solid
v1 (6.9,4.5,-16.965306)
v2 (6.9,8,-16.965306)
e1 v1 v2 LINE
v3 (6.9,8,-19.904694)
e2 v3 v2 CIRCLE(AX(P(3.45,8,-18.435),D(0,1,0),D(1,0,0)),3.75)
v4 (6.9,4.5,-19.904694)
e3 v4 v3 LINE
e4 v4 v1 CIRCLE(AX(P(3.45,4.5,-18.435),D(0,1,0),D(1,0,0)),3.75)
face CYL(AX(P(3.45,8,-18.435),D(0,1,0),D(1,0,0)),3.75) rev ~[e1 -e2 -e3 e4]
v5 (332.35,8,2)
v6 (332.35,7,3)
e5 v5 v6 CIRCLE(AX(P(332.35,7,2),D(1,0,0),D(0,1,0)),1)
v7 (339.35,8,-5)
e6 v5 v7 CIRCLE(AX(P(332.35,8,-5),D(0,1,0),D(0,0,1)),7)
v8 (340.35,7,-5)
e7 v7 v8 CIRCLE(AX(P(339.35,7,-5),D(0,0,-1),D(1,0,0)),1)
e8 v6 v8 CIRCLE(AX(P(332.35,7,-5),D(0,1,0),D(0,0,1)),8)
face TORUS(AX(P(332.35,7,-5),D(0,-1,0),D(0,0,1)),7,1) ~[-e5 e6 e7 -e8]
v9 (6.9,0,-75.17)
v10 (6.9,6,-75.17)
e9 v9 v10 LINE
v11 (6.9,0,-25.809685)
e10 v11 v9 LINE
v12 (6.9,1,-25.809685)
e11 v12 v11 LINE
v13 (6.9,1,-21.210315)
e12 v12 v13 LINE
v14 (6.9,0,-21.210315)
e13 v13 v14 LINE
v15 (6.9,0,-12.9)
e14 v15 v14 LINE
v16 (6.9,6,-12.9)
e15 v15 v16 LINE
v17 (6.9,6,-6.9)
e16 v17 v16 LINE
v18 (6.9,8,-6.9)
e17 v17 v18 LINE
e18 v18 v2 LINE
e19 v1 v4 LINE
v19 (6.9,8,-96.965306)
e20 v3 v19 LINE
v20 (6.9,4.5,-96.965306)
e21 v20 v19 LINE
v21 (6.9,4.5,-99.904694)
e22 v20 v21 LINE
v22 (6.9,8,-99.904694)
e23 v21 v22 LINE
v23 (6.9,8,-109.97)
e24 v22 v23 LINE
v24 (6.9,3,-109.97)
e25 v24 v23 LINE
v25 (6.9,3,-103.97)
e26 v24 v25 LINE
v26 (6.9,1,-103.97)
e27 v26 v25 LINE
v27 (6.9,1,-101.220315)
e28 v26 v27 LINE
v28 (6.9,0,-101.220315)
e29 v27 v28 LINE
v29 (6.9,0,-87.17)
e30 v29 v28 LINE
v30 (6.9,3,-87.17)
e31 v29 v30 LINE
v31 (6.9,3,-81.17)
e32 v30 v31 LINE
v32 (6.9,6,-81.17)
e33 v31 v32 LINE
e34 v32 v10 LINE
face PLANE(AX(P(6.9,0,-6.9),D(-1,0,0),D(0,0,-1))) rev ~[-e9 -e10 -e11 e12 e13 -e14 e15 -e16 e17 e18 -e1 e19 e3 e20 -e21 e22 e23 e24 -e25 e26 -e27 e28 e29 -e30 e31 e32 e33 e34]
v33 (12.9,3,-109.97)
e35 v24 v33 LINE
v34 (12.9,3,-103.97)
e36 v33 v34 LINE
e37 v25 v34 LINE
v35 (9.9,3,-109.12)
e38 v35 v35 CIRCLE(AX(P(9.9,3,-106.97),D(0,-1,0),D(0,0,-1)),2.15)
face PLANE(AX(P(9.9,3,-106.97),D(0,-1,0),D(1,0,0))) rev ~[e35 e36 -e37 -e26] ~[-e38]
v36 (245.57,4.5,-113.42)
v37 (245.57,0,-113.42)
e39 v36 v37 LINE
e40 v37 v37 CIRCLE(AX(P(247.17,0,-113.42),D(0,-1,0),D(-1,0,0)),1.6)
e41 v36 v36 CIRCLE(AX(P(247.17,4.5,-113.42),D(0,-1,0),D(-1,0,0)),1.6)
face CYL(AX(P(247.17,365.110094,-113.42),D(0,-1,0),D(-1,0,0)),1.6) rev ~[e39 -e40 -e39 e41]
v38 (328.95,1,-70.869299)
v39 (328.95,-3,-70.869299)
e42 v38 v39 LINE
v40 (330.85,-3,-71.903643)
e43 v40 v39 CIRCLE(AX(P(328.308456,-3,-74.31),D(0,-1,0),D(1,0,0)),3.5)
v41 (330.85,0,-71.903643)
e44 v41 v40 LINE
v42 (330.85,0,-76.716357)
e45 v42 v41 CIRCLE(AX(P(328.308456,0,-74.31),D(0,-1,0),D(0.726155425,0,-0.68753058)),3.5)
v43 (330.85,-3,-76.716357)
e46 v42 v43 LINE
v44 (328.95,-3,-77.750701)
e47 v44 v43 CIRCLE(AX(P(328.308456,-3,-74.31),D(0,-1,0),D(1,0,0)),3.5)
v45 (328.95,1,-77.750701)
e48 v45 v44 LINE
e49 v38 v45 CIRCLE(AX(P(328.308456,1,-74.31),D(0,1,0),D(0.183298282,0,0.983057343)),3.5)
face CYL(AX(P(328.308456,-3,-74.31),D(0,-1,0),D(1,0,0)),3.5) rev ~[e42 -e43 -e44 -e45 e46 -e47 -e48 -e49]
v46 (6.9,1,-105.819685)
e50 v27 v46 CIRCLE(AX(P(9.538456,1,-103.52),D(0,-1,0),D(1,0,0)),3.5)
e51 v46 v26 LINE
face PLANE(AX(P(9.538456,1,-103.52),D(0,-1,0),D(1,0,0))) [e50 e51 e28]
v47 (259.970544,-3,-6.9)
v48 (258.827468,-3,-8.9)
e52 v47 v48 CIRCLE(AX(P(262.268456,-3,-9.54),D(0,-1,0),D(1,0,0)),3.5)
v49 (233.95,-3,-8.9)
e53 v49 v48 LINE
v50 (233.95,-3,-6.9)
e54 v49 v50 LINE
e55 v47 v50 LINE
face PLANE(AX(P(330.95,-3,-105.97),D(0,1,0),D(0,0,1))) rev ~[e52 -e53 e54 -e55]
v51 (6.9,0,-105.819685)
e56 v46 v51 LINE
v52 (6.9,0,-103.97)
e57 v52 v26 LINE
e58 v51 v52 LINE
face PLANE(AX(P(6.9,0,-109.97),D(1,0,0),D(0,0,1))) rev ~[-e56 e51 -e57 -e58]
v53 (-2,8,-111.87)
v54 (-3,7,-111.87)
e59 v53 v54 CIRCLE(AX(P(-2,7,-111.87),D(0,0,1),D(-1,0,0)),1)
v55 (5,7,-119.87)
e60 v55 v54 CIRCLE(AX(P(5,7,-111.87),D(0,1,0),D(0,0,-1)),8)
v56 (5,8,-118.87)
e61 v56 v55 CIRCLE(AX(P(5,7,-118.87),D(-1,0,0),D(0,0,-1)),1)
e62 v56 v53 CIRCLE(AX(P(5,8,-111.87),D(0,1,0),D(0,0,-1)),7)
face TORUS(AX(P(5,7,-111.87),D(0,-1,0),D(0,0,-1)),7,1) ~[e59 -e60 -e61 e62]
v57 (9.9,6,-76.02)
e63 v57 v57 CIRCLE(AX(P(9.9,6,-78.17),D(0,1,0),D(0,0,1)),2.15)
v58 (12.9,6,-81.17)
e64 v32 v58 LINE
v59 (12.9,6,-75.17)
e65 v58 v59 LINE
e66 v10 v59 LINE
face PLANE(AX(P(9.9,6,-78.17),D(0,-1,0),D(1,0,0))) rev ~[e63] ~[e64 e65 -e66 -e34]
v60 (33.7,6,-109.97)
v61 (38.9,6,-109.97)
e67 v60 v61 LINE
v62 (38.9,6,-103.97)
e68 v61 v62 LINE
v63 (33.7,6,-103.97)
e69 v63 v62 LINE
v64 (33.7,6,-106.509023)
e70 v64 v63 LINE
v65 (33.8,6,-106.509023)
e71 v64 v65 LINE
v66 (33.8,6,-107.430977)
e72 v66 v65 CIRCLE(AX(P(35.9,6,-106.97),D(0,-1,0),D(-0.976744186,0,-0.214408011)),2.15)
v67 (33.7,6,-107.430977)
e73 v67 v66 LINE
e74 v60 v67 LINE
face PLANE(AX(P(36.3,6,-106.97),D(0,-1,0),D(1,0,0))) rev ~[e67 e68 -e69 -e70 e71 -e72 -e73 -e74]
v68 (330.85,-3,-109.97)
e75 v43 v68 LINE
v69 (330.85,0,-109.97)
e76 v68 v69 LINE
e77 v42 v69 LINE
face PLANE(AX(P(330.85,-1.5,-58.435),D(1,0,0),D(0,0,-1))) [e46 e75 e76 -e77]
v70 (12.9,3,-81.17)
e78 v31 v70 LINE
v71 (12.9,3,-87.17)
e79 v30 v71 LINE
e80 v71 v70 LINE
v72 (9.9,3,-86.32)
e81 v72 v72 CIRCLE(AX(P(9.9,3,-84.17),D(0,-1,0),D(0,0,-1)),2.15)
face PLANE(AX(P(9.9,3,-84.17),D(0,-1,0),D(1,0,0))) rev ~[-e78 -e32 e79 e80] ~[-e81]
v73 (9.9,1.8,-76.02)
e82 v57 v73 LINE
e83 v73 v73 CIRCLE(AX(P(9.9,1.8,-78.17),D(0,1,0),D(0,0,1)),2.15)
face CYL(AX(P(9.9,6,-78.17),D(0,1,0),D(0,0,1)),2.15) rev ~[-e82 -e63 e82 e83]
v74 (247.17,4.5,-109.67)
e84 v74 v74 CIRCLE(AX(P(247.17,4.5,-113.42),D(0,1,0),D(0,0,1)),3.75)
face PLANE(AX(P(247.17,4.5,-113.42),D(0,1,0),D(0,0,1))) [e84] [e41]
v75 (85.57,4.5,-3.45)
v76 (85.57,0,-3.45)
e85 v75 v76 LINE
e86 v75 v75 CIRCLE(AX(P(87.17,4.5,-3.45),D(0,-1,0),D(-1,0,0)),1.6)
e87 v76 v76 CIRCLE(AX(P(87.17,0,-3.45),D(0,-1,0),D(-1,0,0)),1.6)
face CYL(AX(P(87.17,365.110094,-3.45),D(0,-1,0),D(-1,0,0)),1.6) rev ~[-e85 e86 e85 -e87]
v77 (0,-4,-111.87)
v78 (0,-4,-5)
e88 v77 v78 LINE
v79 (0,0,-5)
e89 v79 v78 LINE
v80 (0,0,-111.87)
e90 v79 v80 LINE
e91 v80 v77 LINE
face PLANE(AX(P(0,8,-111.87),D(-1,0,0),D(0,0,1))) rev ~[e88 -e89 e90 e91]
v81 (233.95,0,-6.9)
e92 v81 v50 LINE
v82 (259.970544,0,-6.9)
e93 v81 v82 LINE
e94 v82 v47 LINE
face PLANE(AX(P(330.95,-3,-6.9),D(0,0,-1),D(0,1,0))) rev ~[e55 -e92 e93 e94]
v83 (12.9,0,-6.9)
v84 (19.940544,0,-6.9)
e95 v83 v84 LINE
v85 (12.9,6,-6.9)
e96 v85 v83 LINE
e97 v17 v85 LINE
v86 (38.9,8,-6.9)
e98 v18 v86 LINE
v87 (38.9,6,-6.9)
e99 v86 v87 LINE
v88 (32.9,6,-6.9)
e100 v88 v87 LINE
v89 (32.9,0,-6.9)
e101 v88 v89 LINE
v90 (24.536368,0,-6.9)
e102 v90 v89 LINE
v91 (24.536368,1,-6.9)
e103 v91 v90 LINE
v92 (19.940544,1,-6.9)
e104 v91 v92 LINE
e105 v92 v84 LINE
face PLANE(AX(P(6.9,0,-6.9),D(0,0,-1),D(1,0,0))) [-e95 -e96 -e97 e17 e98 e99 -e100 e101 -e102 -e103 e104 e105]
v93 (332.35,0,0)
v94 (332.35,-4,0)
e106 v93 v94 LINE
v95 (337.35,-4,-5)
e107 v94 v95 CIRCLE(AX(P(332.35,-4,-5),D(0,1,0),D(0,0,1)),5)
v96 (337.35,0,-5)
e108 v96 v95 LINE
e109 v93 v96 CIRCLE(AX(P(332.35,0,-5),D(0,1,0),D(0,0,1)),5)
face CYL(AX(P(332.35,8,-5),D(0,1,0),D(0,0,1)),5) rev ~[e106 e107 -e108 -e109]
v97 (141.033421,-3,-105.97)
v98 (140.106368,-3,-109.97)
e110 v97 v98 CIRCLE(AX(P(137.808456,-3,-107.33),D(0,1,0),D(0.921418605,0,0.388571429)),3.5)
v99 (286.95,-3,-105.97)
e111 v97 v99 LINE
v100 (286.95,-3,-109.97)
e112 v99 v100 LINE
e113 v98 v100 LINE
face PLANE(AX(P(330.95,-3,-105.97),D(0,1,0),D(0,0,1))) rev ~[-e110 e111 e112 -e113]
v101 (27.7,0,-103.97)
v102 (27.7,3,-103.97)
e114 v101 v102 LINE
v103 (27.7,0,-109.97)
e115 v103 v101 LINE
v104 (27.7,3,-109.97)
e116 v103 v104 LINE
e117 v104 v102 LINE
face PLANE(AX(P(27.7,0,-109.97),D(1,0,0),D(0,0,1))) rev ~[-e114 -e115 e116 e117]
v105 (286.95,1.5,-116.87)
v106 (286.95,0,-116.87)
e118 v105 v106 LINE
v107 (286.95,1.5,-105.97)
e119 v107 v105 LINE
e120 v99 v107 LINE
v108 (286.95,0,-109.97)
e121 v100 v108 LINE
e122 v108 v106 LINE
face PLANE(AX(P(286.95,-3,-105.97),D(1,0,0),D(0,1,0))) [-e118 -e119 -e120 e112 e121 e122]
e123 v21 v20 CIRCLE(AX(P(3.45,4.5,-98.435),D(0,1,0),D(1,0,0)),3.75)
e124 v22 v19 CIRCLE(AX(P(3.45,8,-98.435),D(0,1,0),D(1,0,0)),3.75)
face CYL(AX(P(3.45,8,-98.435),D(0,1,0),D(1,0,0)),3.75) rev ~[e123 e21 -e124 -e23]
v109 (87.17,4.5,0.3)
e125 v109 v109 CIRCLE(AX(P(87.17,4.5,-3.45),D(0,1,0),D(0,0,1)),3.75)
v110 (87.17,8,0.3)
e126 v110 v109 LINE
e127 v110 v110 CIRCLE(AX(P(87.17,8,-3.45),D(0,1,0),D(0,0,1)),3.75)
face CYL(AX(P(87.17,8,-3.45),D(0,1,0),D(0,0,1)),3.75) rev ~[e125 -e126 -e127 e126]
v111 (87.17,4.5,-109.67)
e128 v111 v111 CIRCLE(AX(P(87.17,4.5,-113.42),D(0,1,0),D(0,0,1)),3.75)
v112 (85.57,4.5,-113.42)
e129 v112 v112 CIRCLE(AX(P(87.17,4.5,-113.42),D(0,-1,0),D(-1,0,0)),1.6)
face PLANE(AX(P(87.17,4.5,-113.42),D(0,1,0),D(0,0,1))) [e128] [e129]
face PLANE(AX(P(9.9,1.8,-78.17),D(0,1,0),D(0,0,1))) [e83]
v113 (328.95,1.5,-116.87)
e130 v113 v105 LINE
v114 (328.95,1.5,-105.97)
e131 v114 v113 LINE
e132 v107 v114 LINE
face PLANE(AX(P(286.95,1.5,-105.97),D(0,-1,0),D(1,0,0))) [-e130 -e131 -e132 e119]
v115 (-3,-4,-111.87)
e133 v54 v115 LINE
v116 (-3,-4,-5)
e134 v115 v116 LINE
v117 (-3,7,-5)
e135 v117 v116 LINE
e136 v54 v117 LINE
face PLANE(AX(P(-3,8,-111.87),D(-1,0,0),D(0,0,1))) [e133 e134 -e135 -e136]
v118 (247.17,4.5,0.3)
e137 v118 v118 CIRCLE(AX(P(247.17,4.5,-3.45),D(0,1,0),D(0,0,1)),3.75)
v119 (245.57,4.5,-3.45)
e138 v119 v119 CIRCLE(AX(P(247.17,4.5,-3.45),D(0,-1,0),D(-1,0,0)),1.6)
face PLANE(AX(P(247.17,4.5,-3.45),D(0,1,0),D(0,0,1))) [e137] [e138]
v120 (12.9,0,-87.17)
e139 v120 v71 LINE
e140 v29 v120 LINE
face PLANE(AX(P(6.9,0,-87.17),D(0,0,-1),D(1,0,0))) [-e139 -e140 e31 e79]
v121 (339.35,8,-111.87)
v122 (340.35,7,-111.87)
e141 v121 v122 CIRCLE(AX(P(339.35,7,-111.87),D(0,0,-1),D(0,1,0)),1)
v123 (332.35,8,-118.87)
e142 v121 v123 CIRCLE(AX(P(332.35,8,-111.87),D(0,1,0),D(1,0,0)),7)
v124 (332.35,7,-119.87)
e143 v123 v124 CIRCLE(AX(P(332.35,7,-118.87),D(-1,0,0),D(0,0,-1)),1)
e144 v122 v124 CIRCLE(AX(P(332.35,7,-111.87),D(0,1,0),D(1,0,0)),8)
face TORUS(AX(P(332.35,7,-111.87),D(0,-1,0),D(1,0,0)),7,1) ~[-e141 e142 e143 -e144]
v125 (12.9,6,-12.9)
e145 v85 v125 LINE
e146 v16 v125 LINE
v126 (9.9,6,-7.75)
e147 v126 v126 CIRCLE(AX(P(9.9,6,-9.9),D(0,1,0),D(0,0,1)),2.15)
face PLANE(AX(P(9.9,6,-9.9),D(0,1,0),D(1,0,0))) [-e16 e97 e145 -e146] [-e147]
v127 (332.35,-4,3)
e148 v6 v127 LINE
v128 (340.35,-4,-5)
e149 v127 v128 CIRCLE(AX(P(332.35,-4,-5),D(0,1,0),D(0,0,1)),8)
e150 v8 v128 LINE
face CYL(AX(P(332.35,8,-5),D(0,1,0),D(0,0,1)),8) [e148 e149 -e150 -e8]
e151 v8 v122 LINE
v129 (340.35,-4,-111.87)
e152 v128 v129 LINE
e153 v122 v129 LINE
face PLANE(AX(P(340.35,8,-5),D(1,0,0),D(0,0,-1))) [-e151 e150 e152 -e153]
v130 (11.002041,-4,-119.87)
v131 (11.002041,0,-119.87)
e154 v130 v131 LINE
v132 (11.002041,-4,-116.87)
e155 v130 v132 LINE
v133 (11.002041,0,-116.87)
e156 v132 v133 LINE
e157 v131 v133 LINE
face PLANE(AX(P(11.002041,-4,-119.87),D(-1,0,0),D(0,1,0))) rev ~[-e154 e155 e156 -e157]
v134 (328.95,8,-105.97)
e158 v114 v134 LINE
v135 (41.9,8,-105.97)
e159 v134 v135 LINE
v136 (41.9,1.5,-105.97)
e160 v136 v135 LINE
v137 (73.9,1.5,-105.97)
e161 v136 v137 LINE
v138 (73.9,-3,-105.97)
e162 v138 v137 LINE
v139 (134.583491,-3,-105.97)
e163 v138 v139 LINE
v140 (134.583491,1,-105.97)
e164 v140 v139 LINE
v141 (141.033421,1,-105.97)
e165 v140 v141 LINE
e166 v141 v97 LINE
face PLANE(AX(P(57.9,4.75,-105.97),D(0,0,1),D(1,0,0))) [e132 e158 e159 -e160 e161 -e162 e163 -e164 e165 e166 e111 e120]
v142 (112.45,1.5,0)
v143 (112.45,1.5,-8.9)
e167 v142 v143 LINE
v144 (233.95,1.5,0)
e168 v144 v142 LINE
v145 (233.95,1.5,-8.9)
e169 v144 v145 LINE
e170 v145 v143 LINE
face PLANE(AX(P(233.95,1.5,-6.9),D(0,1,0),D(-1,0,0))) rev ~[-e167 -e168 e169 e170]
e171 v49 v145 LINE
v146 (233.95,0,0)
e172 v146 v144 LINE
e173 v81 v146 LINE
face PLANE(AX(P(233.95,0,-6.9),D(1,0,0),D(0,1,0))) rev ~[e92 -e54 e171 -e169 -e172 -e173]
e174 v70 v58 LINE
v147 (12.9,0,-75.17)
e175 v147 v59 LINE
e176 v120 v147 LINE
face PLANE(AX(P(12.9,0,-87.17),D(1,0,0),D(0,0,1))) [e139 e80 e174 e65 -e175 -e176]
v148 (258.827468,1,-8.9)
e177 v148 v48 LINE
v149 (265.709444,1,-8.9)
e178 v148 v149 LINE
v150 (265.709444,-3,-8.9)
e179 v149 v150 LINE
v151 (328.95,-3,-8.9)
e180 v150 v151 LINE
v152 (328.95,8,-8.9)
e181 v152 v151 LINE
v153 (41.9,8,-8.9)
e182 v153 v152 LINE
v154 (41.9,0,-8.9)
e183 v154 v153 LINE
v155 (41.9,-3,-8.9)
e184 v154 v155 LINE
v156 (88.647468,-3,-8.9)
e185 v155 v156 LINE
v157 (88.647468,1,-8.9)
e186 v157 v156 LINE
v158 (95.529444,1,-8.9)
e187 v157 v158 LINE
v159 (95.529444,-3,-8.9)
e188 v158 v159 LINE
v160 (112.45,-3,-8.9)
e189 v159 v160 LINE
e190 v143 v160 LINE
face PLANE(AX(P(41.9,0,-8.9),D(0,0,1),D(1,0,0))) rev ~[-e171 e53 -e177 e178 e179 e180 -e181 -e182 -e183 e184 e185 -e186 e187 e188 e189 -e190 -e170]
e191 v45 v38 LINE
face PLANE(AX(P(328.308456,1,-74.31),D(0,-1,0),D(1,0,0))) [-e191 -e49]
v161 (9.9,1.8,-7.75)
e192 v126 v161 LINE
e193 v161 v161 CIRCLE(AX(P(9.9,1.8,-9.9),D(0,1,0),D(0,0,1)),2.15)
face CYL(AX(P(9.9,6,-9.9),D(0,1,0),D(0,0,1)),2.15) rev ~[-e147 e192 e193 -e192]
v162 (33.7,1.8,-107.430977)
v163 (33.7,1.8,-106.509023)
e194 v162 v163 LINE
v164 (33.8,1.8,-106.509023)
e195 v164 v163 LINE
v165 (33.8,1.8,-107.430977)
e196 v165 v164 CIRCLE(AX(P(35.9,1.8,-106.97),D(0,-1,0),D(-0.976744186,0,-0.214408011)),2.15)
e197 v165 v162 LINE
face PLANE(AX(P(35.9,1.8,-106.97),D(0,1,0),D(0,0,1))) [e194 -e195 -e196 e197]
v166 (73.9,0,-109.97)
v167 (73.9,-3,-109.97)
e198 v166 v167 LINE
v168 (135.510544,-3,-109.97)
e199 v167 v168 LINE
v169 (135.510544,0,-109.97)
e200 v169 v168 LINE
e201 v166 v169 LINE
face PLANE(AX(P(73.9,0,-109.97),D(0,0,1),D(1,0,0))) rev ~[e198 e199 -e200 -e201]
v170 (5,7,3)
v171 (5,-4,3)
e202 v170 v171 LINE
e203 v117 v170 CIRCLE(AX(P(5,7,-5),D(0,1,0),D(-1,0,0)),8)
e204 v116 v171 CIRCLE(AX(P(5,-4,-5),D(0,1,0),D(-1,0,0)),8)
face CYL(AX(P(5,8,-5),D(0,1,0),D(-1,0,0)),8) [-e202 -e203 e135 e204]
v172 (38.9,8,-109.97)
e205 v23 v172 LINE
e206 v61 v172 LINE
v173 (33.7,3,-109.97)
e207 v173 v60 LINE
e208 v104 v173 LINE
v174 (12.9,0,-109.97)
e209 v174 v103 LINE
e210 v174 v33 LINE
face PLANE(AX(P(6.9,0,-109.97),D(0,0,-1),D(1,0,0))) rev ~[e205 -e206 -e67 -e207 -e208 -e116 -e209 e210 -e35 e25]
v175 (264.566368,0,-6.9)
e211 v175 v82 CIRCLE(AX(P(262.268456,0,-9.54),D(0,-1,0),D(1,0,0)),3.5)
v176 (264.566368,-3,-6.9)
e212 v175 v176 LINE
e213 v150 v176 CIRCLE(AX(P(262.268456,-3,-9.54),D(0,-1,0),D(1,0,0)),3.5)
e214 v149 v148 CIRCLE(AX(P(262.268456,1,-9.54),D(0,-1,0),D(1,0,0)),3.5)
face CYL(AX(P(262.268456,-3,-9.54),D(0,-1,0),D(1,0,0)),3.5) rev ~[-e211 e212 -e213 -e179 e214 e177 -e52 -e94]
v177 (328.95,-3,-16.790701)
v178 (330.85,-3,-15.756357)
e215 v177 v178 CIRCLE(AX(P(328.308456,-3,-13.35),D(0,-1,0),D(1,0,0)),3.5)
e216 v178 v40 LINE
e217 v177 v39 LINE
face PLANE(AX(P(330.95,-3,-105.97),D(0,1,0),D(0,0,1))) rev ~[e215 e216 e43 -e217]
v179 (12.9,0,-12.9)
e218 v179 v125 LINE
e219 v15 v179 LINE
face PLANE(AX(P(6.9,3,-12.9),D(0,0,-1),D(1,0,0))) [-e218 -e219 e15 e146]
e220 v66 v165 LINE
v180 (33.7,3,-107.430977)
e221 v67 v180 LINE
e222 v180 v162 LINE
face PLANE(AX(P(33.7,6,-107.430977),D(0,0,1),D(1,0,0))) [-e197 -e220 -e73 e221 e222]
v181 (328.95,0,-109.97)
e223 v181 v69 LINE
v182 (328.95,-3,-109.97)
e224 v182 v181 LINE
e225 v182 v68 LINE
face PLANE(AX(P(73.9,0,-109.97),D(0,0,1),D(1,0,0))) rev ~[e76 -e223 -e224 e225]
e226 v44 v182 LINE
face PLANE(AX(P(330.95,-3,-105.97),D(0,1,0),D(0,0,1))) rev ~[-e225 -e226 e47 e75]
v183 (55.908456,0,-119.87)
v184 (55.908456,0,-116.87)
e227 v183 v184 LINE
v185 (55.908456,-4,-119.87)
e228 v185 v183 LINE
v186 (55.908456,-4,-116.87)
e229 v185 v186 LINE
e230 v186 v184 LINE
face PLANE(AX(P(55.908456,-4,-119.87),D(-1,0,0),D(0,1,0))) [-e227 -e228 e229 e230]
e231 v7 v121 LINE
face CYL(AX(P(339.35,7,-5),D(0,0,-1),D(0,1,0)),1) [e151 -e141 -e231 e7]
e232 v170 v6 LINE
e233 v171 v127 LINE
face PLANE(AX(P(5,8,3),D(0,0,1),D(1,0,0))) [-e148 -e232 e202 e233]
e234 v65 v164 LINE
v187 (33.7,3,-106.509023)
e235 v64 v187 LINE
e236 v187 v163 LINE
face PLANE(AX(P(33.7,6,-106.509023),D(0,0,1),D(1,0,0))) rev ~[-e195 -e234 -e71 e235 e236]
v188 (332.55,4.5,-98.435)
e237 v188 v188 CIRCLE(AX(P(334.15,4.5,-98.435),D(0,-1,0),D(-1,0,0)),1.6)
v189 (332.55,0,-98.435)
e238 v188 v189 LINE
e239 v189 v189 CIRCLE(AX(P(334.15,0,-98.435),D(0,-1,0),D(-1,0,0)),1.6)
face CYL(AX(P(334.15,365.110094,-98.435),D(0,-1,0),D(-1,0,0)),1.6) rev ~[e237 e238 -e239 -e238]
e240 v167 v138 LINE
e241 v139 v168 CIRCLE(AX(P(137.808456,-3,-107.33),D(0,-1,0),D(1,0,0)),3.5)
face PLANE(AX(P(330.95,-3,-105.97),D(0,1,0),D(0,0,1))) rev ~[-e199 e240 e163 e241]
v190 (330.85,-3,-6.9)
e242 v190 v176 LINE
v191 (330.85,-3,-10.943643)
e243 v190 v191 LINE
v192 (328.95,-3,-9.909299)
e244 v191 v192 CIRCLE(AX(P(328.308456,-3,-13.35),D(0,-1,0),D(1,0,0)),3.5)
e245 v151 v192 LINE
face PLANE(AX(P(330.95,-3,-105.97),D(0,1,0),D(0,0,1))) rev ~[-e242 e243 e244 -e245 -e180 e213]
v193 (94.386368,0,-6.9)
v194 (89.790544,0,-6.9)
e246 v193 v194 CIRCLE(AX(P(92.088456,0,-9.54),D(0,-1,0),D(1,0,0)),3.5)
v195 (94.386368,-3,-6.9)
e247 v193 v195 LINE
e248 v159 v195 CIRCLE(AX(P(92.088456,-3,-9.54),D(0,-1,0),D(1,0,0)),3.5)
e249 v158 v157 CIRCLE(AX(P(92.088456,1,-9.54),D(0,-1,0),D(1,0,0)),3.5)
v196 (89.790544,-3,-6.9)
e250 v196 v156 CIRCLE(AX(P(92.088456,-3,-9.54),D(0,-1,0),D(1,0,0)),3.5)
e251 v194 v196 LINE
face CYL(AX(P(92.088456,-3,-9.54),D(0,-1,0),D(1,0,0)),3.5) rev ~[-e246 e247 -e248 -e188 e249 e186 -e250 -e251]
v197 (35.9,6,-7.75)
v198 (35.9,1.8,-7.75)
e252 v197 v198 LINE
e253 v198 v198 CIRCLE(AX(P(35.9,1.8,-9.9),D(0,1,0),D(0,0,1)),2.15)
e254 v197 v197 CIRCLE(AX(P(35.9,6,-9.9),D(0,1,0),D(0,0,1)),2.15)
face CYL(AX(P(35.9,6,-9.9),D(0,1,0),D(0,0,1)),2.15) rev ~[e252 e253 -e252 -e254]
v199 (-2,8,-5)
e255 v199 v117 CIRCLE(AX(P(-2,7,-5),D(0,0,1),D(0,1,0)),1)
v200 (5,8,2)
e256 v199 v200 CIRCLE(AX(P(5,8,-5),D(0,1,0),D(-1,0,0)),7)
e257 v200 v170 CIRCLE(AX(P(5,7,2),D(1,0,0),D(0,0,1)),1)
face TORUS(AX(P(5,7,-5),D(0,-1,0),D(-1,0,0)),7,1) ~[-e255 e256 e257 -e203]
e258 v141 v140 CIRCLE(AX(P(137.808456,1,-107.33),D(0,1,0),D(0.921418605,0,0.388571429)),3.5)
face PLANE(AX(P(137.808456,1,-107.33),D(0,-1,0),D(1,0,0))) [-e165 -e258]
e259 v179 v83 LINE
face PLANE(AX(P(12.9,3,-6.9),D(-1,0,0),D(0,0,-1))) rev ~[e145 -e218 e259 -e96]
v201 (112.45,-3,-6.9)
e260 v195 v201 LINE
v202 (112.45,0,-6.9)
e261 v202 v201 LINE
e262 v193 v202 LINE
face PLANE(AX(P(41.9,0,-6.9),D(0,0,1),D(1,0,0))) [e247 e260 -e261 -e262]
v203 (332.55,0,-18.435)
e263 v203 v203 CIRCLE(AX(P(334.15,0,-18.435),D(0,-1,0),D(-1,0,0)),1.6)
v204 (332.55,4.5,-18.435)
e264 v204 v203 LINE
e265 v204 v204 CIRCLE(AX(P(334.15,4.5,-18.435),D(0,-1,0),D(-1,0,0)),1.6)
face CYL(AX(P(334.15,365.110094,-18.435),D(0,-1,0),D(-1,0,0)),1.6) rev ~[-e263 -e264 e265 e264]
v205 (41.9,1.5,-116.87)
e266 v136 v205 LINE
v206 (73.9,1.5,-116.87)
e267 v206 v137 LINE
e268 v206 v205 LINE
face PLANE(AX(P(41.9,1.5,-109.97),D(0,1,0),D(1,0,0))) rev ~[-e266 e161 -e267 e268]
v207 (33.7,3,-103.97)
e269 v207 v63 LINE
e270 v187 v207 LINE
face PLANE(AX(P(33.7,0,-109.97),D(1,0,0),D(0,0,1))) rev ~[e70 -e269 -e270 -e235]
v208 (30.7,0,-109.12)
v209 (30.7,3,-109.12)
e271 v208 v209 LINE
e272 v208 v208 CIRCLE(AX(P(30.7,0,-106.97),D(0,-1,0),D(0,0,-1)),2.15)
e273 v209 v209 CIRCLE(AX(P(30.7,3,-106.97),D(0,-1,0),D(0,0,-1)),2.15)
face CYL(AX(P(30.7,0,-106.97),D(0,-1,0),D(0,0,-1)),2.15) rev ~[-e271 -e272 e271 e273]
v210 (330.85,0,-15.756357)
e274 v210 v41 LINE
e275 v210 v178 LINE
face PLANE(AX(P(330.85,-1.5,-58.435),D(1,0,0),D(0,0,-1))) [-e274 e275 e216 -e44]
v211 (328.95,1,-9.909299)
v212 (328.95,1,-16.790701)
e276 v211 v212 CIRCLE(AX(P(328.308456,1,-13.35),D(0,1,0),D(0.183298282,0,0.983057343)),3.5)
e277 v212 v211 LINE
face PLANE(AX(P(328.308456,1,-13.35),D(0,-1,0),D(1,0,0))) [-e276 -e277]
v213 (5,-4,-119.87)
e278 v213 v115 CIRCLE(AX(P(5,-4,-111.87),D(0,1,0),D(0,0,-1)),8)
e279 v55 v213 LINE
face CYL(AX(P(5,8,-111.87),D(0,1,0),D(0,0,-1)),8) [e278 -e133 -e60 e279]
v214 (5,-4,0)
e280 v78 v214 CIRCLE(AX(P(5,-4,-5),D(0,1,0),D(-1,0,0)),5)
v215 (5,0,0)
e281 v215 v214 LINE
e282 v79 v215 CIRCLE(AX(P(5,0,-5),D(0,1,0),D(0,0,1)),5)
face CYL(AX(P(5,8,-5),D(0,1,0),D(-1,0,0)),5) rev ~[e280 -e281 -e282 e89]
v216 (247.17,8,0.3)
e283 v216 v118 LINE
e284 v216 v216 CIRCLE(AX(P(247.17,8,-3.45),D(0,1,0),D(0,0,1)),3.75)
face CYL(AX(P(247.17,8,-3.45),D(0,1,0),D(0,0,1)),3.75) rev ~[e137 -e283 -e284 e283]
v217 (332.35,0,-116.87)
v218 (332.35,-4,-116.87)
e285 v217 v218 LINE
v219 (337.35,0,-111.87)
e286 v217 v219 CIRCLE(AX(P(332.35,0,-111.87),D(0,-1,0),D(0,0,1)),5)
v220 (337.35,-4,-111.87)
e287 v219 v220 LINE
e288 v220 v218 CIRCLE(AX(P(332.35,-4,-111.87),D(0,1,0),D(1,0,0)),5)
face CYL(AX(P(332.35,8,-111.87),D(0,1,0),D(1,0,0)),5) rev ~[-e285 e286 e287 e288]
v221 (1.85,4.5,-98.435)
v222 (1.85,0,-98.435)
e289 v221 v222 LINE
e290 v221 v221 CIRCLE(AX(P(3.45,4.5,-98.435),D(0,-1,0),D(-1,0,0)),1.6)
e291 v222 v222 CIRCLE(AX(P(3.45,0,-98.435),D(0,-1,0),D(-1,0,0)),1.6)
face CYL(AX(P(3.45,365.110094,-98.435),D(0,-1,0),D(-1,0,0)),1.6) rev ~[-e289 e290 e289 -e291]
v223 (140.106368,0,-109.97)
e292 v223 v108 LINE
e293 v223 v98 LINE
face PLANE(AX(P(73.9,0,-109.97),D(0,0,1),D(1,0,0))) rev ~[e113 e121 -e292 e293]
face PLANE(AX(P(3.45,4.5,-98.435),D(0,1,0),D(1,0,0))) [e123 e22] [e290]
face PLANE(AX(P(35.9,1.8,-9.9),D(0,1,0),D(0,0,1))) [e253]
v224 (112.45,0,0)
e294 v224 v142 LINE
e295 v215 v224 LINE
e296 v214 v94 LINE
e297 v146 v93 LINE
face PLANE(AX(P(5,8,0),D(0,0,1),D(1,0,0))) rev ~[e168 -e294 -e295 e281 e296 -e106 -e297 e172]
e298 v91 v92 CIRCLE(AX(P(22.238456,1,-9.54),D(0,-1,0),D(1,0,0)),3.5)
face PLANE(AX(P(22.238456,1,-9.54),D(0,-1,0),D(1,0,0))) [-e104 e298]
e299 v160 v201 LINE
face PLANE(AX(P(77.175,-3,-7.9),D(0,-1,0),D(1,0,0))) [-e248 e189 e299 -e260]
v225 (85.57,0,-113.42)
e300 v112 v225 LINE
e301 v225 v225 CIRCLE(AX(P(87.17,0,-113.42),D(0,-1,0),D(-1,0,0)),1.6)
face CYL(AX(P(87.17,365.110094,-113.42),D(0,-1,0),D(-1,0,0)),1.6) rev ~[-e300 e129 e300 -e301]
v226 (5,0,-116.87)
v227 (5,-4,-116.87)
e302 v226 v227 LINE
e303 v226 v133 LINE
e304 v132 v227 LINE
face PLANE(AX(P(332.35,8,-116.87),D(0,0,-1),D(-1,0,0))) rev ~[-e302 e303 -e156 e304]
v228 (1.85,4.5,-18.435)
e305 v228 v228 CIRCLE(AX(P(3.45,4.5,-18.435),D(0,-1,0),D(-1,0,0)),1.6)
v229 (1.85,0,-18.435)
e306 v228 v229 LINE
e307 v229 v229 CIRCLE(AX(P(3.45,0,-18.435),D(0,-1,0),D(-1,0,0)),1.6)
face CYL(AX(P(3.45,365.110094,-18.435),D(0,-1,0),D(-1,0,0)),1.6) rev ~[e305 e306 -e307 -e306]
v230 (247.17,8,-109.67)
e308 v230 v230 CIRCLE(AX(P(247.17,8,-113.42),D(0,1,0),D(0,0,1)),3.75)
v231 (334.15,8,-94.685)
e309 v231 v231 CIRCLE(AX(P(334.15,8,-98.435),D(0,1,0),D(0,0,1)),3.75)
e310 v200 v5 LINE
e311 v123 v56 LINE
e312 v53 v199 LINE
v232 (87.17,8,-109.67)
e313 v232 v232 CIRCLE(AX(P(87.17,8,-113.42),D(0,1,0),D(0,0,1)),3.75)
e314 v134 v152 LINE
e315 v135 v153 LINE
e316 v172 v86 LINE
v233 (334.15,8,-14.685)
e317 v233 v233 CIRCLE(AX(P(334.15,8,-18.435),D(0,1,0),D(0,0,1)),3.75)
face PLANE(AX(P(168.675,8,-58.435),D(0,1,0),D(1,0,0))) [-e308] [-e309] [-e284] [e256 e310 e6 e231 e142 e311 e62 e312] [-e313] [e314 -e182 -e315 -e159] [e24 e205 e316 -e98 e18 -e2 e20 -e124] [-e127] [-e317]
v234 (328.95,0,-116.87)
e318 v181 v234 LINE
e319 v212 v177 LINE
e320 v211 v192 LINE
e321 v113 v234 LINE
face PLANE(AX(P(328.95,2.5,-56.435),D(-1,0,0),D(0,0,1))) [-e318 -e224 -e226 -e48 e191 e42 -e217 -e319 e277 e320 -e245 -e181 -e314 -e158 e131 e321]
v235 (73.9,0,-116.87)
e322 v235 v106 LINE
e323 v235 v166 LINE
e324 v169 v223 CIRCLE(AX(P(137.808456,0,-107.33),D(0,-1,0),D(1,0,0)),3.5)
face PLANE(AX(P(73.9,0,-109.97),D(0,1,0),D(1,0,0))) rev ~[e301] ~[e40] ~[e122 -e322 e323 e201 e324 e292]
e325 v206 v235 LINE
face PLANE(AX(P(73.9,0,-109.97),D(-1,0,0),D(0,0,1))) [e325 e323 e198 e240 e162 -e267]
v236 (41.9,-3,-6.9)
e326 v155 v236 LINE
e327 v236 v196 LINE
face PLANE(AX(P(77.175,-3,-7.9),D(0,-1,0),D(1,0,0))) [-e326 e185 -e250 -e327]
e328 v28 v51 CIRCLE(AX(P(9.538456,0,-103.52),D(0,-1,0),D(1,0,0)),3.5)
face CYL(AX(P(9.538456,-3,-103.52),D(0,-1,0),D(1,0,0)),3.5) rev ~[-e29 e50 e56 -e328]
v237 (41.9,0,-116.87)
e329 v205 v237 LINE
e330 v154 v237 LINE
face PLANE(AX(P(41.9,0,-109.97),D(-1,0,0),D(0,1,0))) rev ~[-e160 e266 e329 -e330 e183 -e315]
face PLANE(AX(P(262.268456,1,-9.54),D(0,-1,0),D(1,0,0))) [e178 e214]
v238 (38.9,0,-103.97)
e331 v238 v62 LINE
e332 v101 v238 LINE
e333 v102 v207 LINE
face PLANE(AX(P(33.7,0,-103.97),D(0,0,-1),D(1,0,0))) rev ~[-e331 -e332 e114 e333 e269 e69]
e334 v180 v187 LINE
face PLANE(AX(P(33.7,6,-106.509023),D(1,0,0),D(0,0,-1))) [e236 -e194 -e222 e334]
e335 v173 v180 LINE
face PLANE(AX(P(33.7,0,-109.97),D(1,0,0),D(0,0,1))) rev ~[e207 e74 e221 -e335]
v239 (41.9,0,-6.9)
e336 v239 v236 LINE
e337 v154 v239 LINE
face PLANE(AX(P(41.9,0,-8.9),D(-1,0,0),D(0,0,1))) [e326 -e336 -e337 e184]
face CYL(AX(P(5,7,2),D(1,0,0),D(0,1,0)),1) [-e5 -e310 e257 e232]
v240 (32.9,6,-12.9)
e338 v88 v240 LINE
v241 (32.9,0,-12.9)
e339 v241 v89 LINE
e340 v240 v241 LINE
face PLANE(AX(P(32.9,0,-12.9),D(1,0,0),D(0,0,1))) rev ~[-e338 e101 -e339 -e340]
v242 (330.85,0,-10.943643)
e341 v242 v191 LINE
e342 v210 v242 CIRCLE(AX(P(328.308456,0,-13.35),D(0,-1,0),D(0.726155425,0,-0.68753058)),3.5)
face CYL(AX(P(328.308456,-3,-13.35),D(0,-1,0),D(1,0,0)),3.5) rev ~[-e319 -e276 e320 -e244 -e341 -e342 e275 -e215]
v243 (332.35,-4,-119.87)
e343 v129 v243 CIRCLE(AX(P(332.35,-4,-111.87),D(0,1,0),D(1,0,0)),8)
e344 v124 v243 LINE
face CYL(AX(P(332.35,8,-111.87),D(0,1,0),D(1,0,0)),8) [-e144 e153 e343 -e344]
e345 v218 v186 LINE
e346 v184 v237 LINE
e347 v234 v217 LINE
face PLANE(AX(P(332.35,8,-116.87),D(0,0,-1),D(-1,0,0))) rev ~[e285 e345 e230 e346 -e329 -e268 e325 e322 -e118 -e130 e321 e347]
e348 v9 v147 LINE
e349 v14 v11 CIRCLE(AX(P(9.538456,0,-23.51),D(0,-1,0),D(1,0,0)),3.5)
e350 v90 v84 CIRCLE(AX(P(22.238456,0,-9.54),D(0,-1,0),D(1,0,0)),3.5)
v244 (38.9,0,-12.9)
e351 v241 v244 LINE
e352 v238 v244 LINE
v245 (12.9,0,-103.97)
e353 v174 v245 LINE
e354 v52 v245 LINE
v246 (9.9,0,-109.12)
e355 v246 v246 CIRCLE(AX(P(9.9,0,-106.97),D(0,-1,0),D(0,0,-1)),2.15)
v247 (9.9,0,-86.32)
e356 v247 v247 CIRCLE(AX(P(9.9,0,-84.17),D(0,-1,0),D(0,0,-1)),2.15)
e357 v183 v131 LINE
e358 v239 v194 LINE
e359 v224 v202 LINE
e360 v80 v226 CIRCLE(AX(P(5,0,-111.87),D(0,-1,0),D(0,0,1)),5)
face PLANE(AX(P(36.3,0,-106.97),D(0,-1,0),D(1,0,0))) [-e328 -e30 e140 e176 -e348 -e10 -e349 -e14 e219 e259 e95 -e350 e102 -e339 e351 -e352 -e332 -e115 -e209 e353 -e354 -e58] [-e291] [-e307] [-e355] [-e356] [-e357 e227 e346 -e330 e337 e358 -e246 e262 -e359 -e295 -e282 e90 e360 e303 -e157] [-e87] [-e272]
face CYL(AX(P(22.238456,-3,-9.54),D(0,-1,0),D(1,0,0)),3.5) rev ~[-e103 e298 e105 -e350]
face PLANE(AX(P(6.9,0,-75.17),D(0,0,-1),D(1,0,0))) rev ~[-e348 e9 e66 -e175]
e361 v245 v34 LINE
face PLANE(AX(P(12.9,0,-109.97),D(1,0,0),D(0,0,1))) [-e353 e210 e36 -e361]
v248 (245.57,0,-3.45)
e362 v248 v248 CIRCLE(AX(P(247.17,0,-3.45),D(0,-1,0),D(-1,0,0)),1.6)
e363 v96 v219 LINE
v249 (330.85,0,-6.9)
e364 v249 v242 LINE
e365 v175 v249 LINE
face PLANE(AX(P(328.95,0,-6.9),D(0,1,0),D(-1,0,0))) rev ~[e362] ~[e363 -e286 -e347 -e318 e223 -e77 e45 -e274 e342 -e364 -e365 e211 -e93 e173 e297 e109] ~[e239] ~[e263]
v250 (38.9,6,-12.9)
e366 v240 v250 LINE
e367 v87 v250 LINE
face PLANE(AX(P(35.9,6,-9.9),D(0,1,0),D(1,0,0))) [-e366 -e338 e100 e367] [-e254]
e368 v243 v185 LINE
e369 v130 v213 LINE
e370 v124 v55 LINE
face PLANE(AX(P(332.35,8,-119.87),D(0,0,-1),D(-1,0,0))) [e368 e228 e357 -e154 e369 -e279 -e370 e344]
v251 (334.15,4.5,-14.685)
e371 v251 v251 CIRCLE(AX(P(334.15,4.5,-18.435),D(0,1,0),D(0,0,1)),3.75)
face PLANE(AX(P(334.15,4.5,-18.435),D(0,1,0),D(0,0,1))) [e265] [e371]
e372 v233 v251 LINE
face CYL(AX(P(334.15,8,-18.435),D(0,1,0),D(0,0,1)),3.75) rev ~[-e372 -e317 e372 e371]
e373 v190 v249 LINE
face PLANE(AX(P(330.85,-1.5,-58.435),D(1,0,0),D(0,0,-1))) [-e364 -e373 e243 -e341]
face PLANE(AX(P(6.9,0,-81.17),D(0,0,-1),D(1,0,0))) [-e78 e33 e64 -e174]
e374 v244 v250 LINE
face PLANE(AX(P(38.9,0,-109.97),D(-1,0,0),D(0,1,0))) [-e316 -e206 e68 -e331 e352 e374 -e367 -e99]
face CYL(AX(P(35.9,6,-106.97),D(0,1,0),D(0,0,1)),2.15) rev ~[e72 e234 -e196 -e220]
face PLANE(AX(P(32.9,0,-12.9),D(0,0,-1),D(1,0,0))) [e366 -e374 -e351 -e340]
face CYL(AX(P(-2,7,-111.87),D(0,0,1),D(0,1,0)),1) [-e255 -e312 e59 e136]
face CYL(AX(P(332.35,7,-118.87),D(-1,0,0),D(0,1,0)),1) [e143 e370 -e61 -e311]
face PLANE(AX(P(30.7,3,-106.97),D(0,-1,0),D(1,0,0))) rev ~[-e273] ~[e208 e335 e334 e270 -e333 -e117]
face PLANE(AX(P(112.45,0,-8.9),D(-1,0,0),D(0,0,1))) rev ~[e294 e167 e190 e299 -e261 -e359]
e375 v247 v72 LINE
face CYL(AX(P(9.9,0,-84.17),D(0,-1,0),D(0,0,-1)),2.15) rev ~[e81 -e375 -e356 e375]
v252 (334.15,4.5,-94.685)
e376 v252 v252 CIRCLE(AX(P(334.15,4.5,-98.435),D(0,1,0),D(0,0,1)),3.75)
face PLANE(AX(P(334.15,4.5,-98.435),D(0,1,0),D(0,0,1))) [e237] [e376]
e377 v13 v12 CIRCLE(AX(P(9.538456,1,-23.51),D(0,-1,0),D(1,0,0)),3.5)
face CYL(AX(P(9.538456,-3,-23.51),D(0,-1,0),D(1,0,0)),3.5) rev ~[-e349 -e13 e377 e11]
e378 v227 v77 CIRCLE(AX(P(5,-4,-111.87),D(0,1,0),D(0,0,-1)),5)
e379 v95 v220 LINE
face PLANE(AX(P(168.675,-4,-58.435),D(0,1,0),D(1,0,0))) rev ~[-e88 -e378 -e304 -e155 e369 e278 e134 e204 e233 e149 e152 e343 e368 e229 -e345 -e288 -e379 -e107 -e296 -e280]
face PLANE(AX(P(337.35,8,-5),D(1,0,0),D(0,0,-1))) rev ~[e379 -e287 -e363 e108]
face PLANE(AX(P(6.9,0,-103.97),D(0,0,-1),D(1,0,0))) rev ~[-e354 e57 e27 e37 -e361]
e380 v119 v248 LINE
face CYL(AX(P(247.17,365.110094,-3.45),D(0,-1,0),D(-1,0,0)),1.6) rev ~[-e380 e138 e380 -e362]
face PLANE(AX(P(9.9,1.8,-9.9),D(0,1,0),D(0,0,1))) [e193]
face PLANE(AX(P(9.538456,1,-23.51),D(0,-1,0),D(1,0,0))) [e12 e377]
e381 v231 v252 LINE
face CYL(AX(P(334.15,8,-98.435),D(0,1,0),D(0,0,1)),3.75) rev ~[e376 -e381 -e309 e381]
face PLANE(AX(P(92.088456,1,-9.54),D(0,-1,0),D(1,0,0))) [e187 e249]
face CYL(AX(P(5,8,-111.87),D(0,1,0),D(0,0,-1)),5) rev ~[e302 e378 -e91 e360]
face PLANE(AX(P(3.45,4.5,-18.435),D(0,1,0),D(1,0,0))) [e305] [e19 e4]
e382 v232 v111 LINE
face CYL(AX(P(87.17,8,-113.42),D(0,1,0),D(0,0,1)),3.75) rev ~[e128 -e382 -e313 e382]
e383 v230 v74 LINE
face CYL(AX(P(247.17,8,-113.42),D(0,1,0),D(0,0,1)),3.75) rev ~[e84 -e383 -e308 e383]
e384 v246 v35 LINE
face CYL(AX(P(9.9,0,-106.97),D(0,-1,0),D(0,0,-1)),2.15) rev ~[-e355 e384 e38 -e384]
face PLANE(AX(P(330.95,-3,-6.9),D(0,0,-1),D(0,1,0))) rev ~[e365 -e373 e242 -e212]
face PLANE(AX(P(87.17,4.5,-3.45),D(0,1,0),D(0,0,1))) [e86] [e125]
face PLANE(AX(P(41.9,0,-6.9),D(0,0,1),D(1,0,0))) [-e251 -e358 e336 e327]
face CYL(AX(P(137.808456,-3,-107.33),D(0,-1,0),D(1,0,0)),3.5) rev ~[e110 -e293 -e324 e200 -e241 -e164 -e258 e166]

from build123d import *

# Parameters (mm, degrees)
SKETCH_1_W              = 337.35
SKETCH_1_H              = 116.87
SKETCH_1_W_2            = 324.05
SKETCH_1_H_2            = 103.07
EXTRUDE_1_DEPTH         = 8
FILLET_1_R              = 5
HOLE_WIZARD_3_2_3_2_1_D = 3.2
SKETCH_5_W              = 32
SKETCH_5_H              = 1.5
CUT_EXTRUDE_1_DEPTH     = 355.911853
EXTRUDE_2_REACH         = 356.912
SKETCH_6_W              = 3
SKETCH_6_H              = 8
SKETCH_7_W              = 257.05
SKETCH_7_H              = 8
EXTRUDE_3_DEPTH         = 4
SKETCH_8_W              = 257.05
SKETCH_8_H              = 4
EXTRUDE_4_DEPTH         = 3
SKETCH_11_W             = 99.07
SKETCH_11_H             = 11
EXTRUDE_5_DEPTH         = 2
SKETCH_13_W             = 42
SKETCH_13_H             = 4.5
CUT_EXTRUDE_2_DEPTH     = 354.692894189
SKETCH_14_W             = 121.5
SKETCH_14_H             = 1.5
CUT_EXTRUDE_3_DEPTH     = 355.911853
SKETCH_16_W             = 32
SKETCH_16_H             = 6.5
EXTRUDE_7_DEPTH         = 4
SKETCH_17_W             = 103.07
SKETCH_17_H             = 3
CUT_EXTRUDE_4_DEPTH     = 0.1
EXTRUDE_8_DEPTH         = 2
SKETCH_19_W             = 70.55
SKETCH_19_H             = 2
SKETCH_19_W_2           = 95
EXTRUDE_9_DEPTH         = 3
SKETCH_20_R             = 3.5
CUT_EXTRUDE_5_DEPTH     = 4
EXTRUDE_10_DEPTH        = 12
SKETCH_22_W             = 44.9064152
SKETCH_22_H             = 4
CUT_EXTRUDE_6_DEPTH     = 9.9
SKETCH_23_W             = 6
SKETCH_23_H             = 6
SKETCH_23_R             = 2.15
EXTRUDE_11_DEPTH        = 3
SKETCH_26_W             = 5.2
SKETCH_26_H             = 6
SKETCH_26_W_2           = 6
EXTRUDE_12_DEPTH        = 6
SKETCH_27_W             = 6
SKETCH_27_H             = 6
EXTRUDE_13_DEPTH        = 3
SKETCH_28_R             = 2.15
CUT_EXTRUDE_7_DEPTH     = 4.2
CUT_EXTRUDE_8_REACH     = 362.981
SKETCH_29_W             = 0.1
SKETCH_29_H             = 0.921954446
SKETCH_30_R             = 3.75
CUT_EXTRUDE_9_DEPTH     = 3.5
FILLET_3_R              = 1


with BuildPart() as part:
    # 草图1 → 凸台-拉伸1 (new body)
    with BuildSketch(Plane(origin=(0, 0, 0), x_dir=(1, 0, 0), z_dir=(0, 1, 0))):
        with Locations((168.675, 58.435)):
            Rectangle(SKETCH_1_W, SKETCH_1_H)
        with Locations((168.925, 58.435)):
            Rectangle(SKETCH_1_W_2, SKETCH_1_H_2, mode=Mode.SUBTRACT)
    extrude(amount=EXTRUDE_1_DEPTH)

    # 圆角1
    fillet_1_edges = [part.edges().sort_by_distance(p)[0] for p in [
        (0, 4, -116.87),
        (337.35, 4, -116.87),
        (337.35, 4, 0),
        (0, 4, 0),
    ]]
    fillet(fillet_1_edges, radius=FILLET_1_R)

    # Ø3.2 (3.2) 直径孔1 (through all)
    with Locations(Plane(origin=(0, 8, 0), x_dir=(1, 0, 0), z_dir=(0, 1, 0))):
        with Locations((3.45, 98.435), (87.17, 113.42), (247.17, 113.42), (334.15, 98.435), (334.15, 18.435), (247.17, 3.45), (87.17, 3.45), (3.45, 18.435)):
            Hole(HOLE_WIZARD_3_2_3_2_1_D / 2)

    # 草图5 → 切除-拉伸1 (cut, through all)
    with BuildSketch(Plane.XY.offset(-109.97)):
        with Locations((57.9, 0.75)):
            Rectangle(SKETCH_5_W, SKETCH_5_H)
    extrude(amount=-CUT_EXTRUDE_1_DEPTH, mode=Mode.SUBTRACT)

    # 草图6 → 凸台-拉伸2 (add, up to next)
    with BuildSketch(Plane.XY.offset(-109.97), mode=Mode.PRIVATE) as extrude_2_sk1:
        with Locations((40.4, 4)):
            Rectangle(SKETCH_6_W, SKETCH_6_H)
    extrude_2_tool1 = extrude(extrude_2_sk1.sketch, amount=EXTRUDE_2_REACH, mode=Mode.PRIVATE) - part.part
    add(extrude_2_tool1.solids().sort_by_distance((40.4, 4, -109.97))[0])

    # 草图7 → 凸台-拉伸3 (add)
    with BuildSketch(Plane.XY.offset(-109.97)):
        with Locations((202.425, 4)):
            Rectangle(SKETCH_7_W, SKETCH_7_H)
    extrude(amount=EXTRUDE_3_DEPTH)

    # 草图8 → 凸台-拉伸4 (add)
    with BuildSketch(Plane.XZ):
        with Locations((202.425, -107.97)):
            Rectangle(SKETCH_8_W, SKETCH_8_H)
    extrude(amount=EXTRUDE_4_DEPTH)

    # 草图11 → 凸台-拉伸5 (add)
    with BuildSketch(Plane.ZY.offset(-330.95)):
        with Locations((-56.435, 2.5)):
            Rectangle(SKETCH_11_W, SKETCH_11_H)
    extrude(amount=EXTRUDE_5_DEPTH)

    # 草图13 → 切除-拉伸2 (cut, through all)
    with BuildSketch(Plane.XY.offset(-105.97)):
        with Locations((307.95, -0.75)):
            Rectangle(SKETCH_13_W, SKETCH_13_H)
    extrude(amount=-CUT_EXTRUDE_2_DEPTH, mode=Mode.SUBTRACT)

    # 草图14 → 切除-拉伸3 (cut, through all)
    with BuildSketch(Plane(origin=(0, 0, -6.9), x_dir=(-1, 0, 0), z_dir=(0, 0, -1))):
        with Locations((-173.2, 0.75)):
            Rectangle(SKETCH_14_W, SKETCH_14_H)
    extrude(amount=-CUT_EXTRUDE_3_DEPTH, mode=Mode.SUBTRACT)

    # 草图16 → 凸台-拉伸7 (add)
    with BuildSketch(Plane.XY.offset(-109.97)):
        with Locations((57.9, 4.75)):
            Rectangle(SKETCH_16_W, SKETCH_16_H)
    extrude(amount=EXTRUDE_7_DEPTH)

    # 草图17 → 切除-拉伸4 (cut)
    with BuildSketch(Plane(origin=(330.95, 0, 0), x_dir=(0, 0, -1), z_dir=(1, 0, 0))):
        with Locations((58.435, -1.5)):
            Rectangle(SKETCH_17_W, SKETCH_17_H)
    extrude(amount=-CUT_EXTRUDE_4_DEPTH, mode=Mode.SUBTRACT)

    # 草图18 → 凸台-拉伸8 (add)
    with BuildSketch(Plane(origin=(0, 0, -6.9), x_dir=(-1, 0, 0), z_dir=(0, 0, -1))):
        Polygon((-233.95, 0), (-233.95, 1.5), (-112.45, 1.5), (-112.45, 0), (-41.9, 0), (-41.9, 8), (-328.95, 8), (-328.95, 0), align=None)
    extrude(amount=EXTRUDE_8_DEPTH)

    # 草图19 → 凸台-拉伸9 (add)
    with BuildSketch(Plane.XZ):
        with Locations((77.175, -7.9)):
            Rectangle(SKETCH_19_W, SKETCH_19_H)
        with Locations((281.45, -7.9)):
            Rectangle(SKETCH_19_W_2, SKETCH_19_H)
    extrude(amount=EXTRUDE_9_DEPTH)

    # 草图20 → 切除-拉伸5 (cut)
    with BuildSketch(Plane.XZ.offset(3)):
        with Locations((92.088456012, -9.54)):
            Circle(SKETCH_20_R)
        with Locations((262.268456012, -9.54)):
            Circle(SKETCH_20_R)
        with Locations((328.308456012, -13.35)):
            Circle(SKETCH_20_R)
        with Locations((328.308456012, -74.31)):
            Circle(SKETCH_20_R)
        with Locations((137.808456012, -107.33)):
            Circle(SKETCH_20_R)
        with Locations((22.238456012, -9.54)):
            Circle(SKETCH_20_R)
        with Locations((9.538456012, -23.51)):
            Circle(SKETCH_20_R)
        with Locations((9.538456012, -103.52)):
            Circle(SKETCH_20_R)
    extrude(amount=-CUT_EXTRUDE_5_DEPTH, mode=Mode.SUBTRACT)

    # 草图21 → 凸台-拉伸10 (add)
    with BuildSketch(Plane(origin=(0, 8, 0), x_dir=(1, 0, 0), z_dir=(0, 1, 0))):
        with BuildLine():
            Line((-3, 111.87), (-3, 5))
            ThreePointArc((-3, 5), (-0.656854249, -0.656854249), (5, -3))
            Line((5, -3), (332.35, -3))
            ThreePointArc((332.35, -3), (338.006854249, -0.656854249), (340.35, 5))
            Line((340.35, 5), (340.35, 111.87))
            ThreePointArc((340.35, 111.87), (338.006854249, 117.526854249), (332.35, 119.87))
            Line((332.35, 119.87), (5, 119.87))
            ThreePointArc((5, 119.87), (-0.656854249, 117.526854249), (-3, 111.87))
        make_face()
        with BuildLine():
            Line((0, 111.87), (0, 5))
            ThreePointArc((0, 5), (1.464466094, 1.464466094), (5, 0))
            Line((5, 0), (332.35, 0))
            ThreePointArc((332.35, 0), (335.885533906, 1.464466094), (337.35, 5))
            Line((337.35, 5), (337.35, 111.87))
            ThreePointArc((337.35, 111.87), (335.885533906, 115.405533906), (332.35, 116.87))
            Line((332.35, 116.87), (5, 116.87))
            ThreePointArc((5, 116.87), (1.464466094, 115.405533906), (0, 111.87))
        make_face(mode=Mode.SUBTRACT)
    extrude(amount=-EXTRUDE_10_DEPTH)

    # 草图22 → 切除-拉伸6 (cut)
    with BuildSketch(Plane(origin=(0, 0, -119.87), x_dir=(-1, 0, 0), z_dir=(0, 0, -1))):
        with Locations((-33.455248412, -2)):
            Rectangle(SKETCH_22_W, SKETCH_22_H)
    extrude(amount=-CUT_EXTRUDE_6_DEPTH, mode=Mode.SUBTRACT)

    # 草图23 → 凸台-拉伸11 (add)
    # profile 1 of 5: a face of its own
    with BuildSketch(Plane.XZ):
        with Locations((9.9, -9.9)):
            Rectangle(SKETCH_23_W, SKETCH_23_H)
    # profile 2 of 5: a face of its own
    with BuildSketch(Plane.XZ):
        with Locations((35.9, -9.9)):
            Rectangle(SKETCH_23_W, SKETCH_23_H)
    # profile 3 of 5: a face of its own
    with BuildSketch(Plane.XZ):
        with Locations((9.9, -106.97)):
            Rectangle(SKETCH_23_W, SKETCH_23_H)
        with Locations(Location((9.9, -106.97, 0), (0, 0, 270))):
            Circle(SKETCH_23_R, mode=Mode.SUBTRACT)
    # profile 4 of 5: a face of its own
    with BuildSketch(Plane.XZ):
        with Locations((9.9, -84.17)):
            Rectangle(SKETCH_23_W, SKETCH_23_H)
        with Locations(Location((9.9, -84.17, 0), (0, 0, 270))):
            Circle(SKETCH_23_R, mode=Mode.SUBTRACT)
    # profile 5 of 5: a face of its own
    with BuildSketch(Plane.XZ):
        with Locations((30.7, -106.97)):
            Rectangle(SKETCH_23_W, SKETCH_23_H)
        with Locations(Location((30.7, -106.97, 0), (0, 0, 270))):
            Circle(SKETCH_23_R, mode=Mode.SUBTRACT)
    extrude(amount=-EXTRUDE_11_DEPTH)

    # 草图26 → 凸台-拉伸12 (add)
    with BuildSketch(Plane.XZ):
        with Locations((36.3, -106.97)):
            Rectangle(SKETCH_26_W, SKETCH_26_H)
        with Locations((9.9, -78.17)):
            Rectangle(SKETCH_26_W_2, SKETCH_26_H)
    extrude(amount=-EXTRUDE_12_DEPTH)

    # 草图27 → 凸台-拉伸13 (add)
    with BuildSketch(Plane(origin=(0, 3, 0), x_dir=(1, 0, 0), z_dir=(0, 1, 0))):
        with Locations((9.9, 9.9)):
            Rectangle(SKETCH_27_W, SKETCH_27_H)
        with Locations((35.9, 9.9)):
            Rectangle(SKETCH_27_W, SKETCH_27_H)
    extrude(amount=EXTRUDE_13_DEPTH)

    # 草图28 → 切除-拉伸7 (cut)
    with BuildSketch(Plane(origin=(0, 6, 0), x_dir=(1, 0, 0), z_dir=(0, 1, 0))):
        with Locations(Location((35.9, 106.97, 0), (0, 0, 270))):
            Circle(SKETCH_28_R)
        with Locations(Location((35.9, 9.9, 0), (0, 0, 270))):
            Circle(SKETCH_28_R)
        with Locations(Location((9.9, 9.9, 0), (0, 0, 270))):
            Circle(SKETCH_28_R)
        with Locations(Location((9.9, 78.17, 0), (0, 0, 270))):
            Circle(SKETCH_28_R)
    extrude(amount=-CUT_EXTRUDE_7_DEPTH, mode=Mode.SUBTRACT)

    # 切除-拉伸8: up to this face of the body (flat: up to its plane)
    cut_extrude_8_end = Plane(part.part.faces().sort_by_distance((35.9, 1.8, -106.97))[0])
    # 草图29 → 切除-拉伸8 (cut, up to the picked face)
    with BuildSketch(Plane(origin=(0, 6, 0), x_dir=(1, 0, 0), z_dir=(0, 1, 0)), mode=Mode.PRIVATE) as cut_extrude_8_sk1:
        with Locations((33.75, 106.97)):
            Rectangle(SKETCH_29_W, SKETCH_29_H)
    cut_extrude_8_tool1 = split(extrude(cut_extrude_8_sk1.sketch, amount=-CUT_EXTRUDE_8_REACH, mode=Mode.PRIVATE), bisect_by=cut_extrude_8_end, keep=Keep.BOTH, mode=Mode.PRIVATE)
    add(cut_extrude_8_tool1.solids().sort_by(Axis((33.75, 6, -106.97), (0, -1, 0)))[0], mode=Mode.SUBTRACT)

    # 草图30 → 切除-拉伸9 (cut)
    with BuildSketch(Plane(origin=(0, 8, 0), x_dir=(1, 0, 0), z_dir=(0, 1, 0))):
        with Locations(Location((87.17, 113.42, 0), (0, 0, 270))):
            Circle(SKETCH_30_R)
        with Locations(Location((247.17, 113.42, 0), (0, 0, 270))):
            Circle(SKETCH_30_R)
        with Locations(Location((334.15, 98.435, 0), (0, 0, 270))):
            Circle(SKETCH_30_R)
        with Locations(Location((334.15, 18.435, 0), (0, 0, 270))):
            Circle(SKETCH_30_R)
        with Locations(Location((87.17, 3.45, 0), (0, 0, 270))):
            Circle(SKETCH_30_R)
        with Locations(Location((247.17, 3.45, 0), (0, 0, 270))):
            Circle(SKETCH_30_R)
        with Locations((3.45, 18.435)):
            Circle(SKETCH_30_R)
        with Locations((3.45, 98.435)):
            Circle(SKETCH_30_R)
    extrude(amount=-CUT_EXTRUDE_9_DEPTH, mode=Mode.SUBTRACT)

    # 圆角3
    fillet_3_edges = [part.edges().sort_by_distance(p)[0] for p in [
        (-0.656854249, 8, -117.526854249),
        (-3, 8, -58.435),
        (-0.656854249, 8, 0.656854249),
        (168.675, 8, 3),
        (338.006854249, 8, 0.656854249),
        (340.35, 8, -58.435),
        (338.006854249, 8, -117.526854249),
        (168.675, 8, -119.87),
    ]]
    fillet(fillet_3_edges, radius=FILLET_3_R)


solid = part.part
